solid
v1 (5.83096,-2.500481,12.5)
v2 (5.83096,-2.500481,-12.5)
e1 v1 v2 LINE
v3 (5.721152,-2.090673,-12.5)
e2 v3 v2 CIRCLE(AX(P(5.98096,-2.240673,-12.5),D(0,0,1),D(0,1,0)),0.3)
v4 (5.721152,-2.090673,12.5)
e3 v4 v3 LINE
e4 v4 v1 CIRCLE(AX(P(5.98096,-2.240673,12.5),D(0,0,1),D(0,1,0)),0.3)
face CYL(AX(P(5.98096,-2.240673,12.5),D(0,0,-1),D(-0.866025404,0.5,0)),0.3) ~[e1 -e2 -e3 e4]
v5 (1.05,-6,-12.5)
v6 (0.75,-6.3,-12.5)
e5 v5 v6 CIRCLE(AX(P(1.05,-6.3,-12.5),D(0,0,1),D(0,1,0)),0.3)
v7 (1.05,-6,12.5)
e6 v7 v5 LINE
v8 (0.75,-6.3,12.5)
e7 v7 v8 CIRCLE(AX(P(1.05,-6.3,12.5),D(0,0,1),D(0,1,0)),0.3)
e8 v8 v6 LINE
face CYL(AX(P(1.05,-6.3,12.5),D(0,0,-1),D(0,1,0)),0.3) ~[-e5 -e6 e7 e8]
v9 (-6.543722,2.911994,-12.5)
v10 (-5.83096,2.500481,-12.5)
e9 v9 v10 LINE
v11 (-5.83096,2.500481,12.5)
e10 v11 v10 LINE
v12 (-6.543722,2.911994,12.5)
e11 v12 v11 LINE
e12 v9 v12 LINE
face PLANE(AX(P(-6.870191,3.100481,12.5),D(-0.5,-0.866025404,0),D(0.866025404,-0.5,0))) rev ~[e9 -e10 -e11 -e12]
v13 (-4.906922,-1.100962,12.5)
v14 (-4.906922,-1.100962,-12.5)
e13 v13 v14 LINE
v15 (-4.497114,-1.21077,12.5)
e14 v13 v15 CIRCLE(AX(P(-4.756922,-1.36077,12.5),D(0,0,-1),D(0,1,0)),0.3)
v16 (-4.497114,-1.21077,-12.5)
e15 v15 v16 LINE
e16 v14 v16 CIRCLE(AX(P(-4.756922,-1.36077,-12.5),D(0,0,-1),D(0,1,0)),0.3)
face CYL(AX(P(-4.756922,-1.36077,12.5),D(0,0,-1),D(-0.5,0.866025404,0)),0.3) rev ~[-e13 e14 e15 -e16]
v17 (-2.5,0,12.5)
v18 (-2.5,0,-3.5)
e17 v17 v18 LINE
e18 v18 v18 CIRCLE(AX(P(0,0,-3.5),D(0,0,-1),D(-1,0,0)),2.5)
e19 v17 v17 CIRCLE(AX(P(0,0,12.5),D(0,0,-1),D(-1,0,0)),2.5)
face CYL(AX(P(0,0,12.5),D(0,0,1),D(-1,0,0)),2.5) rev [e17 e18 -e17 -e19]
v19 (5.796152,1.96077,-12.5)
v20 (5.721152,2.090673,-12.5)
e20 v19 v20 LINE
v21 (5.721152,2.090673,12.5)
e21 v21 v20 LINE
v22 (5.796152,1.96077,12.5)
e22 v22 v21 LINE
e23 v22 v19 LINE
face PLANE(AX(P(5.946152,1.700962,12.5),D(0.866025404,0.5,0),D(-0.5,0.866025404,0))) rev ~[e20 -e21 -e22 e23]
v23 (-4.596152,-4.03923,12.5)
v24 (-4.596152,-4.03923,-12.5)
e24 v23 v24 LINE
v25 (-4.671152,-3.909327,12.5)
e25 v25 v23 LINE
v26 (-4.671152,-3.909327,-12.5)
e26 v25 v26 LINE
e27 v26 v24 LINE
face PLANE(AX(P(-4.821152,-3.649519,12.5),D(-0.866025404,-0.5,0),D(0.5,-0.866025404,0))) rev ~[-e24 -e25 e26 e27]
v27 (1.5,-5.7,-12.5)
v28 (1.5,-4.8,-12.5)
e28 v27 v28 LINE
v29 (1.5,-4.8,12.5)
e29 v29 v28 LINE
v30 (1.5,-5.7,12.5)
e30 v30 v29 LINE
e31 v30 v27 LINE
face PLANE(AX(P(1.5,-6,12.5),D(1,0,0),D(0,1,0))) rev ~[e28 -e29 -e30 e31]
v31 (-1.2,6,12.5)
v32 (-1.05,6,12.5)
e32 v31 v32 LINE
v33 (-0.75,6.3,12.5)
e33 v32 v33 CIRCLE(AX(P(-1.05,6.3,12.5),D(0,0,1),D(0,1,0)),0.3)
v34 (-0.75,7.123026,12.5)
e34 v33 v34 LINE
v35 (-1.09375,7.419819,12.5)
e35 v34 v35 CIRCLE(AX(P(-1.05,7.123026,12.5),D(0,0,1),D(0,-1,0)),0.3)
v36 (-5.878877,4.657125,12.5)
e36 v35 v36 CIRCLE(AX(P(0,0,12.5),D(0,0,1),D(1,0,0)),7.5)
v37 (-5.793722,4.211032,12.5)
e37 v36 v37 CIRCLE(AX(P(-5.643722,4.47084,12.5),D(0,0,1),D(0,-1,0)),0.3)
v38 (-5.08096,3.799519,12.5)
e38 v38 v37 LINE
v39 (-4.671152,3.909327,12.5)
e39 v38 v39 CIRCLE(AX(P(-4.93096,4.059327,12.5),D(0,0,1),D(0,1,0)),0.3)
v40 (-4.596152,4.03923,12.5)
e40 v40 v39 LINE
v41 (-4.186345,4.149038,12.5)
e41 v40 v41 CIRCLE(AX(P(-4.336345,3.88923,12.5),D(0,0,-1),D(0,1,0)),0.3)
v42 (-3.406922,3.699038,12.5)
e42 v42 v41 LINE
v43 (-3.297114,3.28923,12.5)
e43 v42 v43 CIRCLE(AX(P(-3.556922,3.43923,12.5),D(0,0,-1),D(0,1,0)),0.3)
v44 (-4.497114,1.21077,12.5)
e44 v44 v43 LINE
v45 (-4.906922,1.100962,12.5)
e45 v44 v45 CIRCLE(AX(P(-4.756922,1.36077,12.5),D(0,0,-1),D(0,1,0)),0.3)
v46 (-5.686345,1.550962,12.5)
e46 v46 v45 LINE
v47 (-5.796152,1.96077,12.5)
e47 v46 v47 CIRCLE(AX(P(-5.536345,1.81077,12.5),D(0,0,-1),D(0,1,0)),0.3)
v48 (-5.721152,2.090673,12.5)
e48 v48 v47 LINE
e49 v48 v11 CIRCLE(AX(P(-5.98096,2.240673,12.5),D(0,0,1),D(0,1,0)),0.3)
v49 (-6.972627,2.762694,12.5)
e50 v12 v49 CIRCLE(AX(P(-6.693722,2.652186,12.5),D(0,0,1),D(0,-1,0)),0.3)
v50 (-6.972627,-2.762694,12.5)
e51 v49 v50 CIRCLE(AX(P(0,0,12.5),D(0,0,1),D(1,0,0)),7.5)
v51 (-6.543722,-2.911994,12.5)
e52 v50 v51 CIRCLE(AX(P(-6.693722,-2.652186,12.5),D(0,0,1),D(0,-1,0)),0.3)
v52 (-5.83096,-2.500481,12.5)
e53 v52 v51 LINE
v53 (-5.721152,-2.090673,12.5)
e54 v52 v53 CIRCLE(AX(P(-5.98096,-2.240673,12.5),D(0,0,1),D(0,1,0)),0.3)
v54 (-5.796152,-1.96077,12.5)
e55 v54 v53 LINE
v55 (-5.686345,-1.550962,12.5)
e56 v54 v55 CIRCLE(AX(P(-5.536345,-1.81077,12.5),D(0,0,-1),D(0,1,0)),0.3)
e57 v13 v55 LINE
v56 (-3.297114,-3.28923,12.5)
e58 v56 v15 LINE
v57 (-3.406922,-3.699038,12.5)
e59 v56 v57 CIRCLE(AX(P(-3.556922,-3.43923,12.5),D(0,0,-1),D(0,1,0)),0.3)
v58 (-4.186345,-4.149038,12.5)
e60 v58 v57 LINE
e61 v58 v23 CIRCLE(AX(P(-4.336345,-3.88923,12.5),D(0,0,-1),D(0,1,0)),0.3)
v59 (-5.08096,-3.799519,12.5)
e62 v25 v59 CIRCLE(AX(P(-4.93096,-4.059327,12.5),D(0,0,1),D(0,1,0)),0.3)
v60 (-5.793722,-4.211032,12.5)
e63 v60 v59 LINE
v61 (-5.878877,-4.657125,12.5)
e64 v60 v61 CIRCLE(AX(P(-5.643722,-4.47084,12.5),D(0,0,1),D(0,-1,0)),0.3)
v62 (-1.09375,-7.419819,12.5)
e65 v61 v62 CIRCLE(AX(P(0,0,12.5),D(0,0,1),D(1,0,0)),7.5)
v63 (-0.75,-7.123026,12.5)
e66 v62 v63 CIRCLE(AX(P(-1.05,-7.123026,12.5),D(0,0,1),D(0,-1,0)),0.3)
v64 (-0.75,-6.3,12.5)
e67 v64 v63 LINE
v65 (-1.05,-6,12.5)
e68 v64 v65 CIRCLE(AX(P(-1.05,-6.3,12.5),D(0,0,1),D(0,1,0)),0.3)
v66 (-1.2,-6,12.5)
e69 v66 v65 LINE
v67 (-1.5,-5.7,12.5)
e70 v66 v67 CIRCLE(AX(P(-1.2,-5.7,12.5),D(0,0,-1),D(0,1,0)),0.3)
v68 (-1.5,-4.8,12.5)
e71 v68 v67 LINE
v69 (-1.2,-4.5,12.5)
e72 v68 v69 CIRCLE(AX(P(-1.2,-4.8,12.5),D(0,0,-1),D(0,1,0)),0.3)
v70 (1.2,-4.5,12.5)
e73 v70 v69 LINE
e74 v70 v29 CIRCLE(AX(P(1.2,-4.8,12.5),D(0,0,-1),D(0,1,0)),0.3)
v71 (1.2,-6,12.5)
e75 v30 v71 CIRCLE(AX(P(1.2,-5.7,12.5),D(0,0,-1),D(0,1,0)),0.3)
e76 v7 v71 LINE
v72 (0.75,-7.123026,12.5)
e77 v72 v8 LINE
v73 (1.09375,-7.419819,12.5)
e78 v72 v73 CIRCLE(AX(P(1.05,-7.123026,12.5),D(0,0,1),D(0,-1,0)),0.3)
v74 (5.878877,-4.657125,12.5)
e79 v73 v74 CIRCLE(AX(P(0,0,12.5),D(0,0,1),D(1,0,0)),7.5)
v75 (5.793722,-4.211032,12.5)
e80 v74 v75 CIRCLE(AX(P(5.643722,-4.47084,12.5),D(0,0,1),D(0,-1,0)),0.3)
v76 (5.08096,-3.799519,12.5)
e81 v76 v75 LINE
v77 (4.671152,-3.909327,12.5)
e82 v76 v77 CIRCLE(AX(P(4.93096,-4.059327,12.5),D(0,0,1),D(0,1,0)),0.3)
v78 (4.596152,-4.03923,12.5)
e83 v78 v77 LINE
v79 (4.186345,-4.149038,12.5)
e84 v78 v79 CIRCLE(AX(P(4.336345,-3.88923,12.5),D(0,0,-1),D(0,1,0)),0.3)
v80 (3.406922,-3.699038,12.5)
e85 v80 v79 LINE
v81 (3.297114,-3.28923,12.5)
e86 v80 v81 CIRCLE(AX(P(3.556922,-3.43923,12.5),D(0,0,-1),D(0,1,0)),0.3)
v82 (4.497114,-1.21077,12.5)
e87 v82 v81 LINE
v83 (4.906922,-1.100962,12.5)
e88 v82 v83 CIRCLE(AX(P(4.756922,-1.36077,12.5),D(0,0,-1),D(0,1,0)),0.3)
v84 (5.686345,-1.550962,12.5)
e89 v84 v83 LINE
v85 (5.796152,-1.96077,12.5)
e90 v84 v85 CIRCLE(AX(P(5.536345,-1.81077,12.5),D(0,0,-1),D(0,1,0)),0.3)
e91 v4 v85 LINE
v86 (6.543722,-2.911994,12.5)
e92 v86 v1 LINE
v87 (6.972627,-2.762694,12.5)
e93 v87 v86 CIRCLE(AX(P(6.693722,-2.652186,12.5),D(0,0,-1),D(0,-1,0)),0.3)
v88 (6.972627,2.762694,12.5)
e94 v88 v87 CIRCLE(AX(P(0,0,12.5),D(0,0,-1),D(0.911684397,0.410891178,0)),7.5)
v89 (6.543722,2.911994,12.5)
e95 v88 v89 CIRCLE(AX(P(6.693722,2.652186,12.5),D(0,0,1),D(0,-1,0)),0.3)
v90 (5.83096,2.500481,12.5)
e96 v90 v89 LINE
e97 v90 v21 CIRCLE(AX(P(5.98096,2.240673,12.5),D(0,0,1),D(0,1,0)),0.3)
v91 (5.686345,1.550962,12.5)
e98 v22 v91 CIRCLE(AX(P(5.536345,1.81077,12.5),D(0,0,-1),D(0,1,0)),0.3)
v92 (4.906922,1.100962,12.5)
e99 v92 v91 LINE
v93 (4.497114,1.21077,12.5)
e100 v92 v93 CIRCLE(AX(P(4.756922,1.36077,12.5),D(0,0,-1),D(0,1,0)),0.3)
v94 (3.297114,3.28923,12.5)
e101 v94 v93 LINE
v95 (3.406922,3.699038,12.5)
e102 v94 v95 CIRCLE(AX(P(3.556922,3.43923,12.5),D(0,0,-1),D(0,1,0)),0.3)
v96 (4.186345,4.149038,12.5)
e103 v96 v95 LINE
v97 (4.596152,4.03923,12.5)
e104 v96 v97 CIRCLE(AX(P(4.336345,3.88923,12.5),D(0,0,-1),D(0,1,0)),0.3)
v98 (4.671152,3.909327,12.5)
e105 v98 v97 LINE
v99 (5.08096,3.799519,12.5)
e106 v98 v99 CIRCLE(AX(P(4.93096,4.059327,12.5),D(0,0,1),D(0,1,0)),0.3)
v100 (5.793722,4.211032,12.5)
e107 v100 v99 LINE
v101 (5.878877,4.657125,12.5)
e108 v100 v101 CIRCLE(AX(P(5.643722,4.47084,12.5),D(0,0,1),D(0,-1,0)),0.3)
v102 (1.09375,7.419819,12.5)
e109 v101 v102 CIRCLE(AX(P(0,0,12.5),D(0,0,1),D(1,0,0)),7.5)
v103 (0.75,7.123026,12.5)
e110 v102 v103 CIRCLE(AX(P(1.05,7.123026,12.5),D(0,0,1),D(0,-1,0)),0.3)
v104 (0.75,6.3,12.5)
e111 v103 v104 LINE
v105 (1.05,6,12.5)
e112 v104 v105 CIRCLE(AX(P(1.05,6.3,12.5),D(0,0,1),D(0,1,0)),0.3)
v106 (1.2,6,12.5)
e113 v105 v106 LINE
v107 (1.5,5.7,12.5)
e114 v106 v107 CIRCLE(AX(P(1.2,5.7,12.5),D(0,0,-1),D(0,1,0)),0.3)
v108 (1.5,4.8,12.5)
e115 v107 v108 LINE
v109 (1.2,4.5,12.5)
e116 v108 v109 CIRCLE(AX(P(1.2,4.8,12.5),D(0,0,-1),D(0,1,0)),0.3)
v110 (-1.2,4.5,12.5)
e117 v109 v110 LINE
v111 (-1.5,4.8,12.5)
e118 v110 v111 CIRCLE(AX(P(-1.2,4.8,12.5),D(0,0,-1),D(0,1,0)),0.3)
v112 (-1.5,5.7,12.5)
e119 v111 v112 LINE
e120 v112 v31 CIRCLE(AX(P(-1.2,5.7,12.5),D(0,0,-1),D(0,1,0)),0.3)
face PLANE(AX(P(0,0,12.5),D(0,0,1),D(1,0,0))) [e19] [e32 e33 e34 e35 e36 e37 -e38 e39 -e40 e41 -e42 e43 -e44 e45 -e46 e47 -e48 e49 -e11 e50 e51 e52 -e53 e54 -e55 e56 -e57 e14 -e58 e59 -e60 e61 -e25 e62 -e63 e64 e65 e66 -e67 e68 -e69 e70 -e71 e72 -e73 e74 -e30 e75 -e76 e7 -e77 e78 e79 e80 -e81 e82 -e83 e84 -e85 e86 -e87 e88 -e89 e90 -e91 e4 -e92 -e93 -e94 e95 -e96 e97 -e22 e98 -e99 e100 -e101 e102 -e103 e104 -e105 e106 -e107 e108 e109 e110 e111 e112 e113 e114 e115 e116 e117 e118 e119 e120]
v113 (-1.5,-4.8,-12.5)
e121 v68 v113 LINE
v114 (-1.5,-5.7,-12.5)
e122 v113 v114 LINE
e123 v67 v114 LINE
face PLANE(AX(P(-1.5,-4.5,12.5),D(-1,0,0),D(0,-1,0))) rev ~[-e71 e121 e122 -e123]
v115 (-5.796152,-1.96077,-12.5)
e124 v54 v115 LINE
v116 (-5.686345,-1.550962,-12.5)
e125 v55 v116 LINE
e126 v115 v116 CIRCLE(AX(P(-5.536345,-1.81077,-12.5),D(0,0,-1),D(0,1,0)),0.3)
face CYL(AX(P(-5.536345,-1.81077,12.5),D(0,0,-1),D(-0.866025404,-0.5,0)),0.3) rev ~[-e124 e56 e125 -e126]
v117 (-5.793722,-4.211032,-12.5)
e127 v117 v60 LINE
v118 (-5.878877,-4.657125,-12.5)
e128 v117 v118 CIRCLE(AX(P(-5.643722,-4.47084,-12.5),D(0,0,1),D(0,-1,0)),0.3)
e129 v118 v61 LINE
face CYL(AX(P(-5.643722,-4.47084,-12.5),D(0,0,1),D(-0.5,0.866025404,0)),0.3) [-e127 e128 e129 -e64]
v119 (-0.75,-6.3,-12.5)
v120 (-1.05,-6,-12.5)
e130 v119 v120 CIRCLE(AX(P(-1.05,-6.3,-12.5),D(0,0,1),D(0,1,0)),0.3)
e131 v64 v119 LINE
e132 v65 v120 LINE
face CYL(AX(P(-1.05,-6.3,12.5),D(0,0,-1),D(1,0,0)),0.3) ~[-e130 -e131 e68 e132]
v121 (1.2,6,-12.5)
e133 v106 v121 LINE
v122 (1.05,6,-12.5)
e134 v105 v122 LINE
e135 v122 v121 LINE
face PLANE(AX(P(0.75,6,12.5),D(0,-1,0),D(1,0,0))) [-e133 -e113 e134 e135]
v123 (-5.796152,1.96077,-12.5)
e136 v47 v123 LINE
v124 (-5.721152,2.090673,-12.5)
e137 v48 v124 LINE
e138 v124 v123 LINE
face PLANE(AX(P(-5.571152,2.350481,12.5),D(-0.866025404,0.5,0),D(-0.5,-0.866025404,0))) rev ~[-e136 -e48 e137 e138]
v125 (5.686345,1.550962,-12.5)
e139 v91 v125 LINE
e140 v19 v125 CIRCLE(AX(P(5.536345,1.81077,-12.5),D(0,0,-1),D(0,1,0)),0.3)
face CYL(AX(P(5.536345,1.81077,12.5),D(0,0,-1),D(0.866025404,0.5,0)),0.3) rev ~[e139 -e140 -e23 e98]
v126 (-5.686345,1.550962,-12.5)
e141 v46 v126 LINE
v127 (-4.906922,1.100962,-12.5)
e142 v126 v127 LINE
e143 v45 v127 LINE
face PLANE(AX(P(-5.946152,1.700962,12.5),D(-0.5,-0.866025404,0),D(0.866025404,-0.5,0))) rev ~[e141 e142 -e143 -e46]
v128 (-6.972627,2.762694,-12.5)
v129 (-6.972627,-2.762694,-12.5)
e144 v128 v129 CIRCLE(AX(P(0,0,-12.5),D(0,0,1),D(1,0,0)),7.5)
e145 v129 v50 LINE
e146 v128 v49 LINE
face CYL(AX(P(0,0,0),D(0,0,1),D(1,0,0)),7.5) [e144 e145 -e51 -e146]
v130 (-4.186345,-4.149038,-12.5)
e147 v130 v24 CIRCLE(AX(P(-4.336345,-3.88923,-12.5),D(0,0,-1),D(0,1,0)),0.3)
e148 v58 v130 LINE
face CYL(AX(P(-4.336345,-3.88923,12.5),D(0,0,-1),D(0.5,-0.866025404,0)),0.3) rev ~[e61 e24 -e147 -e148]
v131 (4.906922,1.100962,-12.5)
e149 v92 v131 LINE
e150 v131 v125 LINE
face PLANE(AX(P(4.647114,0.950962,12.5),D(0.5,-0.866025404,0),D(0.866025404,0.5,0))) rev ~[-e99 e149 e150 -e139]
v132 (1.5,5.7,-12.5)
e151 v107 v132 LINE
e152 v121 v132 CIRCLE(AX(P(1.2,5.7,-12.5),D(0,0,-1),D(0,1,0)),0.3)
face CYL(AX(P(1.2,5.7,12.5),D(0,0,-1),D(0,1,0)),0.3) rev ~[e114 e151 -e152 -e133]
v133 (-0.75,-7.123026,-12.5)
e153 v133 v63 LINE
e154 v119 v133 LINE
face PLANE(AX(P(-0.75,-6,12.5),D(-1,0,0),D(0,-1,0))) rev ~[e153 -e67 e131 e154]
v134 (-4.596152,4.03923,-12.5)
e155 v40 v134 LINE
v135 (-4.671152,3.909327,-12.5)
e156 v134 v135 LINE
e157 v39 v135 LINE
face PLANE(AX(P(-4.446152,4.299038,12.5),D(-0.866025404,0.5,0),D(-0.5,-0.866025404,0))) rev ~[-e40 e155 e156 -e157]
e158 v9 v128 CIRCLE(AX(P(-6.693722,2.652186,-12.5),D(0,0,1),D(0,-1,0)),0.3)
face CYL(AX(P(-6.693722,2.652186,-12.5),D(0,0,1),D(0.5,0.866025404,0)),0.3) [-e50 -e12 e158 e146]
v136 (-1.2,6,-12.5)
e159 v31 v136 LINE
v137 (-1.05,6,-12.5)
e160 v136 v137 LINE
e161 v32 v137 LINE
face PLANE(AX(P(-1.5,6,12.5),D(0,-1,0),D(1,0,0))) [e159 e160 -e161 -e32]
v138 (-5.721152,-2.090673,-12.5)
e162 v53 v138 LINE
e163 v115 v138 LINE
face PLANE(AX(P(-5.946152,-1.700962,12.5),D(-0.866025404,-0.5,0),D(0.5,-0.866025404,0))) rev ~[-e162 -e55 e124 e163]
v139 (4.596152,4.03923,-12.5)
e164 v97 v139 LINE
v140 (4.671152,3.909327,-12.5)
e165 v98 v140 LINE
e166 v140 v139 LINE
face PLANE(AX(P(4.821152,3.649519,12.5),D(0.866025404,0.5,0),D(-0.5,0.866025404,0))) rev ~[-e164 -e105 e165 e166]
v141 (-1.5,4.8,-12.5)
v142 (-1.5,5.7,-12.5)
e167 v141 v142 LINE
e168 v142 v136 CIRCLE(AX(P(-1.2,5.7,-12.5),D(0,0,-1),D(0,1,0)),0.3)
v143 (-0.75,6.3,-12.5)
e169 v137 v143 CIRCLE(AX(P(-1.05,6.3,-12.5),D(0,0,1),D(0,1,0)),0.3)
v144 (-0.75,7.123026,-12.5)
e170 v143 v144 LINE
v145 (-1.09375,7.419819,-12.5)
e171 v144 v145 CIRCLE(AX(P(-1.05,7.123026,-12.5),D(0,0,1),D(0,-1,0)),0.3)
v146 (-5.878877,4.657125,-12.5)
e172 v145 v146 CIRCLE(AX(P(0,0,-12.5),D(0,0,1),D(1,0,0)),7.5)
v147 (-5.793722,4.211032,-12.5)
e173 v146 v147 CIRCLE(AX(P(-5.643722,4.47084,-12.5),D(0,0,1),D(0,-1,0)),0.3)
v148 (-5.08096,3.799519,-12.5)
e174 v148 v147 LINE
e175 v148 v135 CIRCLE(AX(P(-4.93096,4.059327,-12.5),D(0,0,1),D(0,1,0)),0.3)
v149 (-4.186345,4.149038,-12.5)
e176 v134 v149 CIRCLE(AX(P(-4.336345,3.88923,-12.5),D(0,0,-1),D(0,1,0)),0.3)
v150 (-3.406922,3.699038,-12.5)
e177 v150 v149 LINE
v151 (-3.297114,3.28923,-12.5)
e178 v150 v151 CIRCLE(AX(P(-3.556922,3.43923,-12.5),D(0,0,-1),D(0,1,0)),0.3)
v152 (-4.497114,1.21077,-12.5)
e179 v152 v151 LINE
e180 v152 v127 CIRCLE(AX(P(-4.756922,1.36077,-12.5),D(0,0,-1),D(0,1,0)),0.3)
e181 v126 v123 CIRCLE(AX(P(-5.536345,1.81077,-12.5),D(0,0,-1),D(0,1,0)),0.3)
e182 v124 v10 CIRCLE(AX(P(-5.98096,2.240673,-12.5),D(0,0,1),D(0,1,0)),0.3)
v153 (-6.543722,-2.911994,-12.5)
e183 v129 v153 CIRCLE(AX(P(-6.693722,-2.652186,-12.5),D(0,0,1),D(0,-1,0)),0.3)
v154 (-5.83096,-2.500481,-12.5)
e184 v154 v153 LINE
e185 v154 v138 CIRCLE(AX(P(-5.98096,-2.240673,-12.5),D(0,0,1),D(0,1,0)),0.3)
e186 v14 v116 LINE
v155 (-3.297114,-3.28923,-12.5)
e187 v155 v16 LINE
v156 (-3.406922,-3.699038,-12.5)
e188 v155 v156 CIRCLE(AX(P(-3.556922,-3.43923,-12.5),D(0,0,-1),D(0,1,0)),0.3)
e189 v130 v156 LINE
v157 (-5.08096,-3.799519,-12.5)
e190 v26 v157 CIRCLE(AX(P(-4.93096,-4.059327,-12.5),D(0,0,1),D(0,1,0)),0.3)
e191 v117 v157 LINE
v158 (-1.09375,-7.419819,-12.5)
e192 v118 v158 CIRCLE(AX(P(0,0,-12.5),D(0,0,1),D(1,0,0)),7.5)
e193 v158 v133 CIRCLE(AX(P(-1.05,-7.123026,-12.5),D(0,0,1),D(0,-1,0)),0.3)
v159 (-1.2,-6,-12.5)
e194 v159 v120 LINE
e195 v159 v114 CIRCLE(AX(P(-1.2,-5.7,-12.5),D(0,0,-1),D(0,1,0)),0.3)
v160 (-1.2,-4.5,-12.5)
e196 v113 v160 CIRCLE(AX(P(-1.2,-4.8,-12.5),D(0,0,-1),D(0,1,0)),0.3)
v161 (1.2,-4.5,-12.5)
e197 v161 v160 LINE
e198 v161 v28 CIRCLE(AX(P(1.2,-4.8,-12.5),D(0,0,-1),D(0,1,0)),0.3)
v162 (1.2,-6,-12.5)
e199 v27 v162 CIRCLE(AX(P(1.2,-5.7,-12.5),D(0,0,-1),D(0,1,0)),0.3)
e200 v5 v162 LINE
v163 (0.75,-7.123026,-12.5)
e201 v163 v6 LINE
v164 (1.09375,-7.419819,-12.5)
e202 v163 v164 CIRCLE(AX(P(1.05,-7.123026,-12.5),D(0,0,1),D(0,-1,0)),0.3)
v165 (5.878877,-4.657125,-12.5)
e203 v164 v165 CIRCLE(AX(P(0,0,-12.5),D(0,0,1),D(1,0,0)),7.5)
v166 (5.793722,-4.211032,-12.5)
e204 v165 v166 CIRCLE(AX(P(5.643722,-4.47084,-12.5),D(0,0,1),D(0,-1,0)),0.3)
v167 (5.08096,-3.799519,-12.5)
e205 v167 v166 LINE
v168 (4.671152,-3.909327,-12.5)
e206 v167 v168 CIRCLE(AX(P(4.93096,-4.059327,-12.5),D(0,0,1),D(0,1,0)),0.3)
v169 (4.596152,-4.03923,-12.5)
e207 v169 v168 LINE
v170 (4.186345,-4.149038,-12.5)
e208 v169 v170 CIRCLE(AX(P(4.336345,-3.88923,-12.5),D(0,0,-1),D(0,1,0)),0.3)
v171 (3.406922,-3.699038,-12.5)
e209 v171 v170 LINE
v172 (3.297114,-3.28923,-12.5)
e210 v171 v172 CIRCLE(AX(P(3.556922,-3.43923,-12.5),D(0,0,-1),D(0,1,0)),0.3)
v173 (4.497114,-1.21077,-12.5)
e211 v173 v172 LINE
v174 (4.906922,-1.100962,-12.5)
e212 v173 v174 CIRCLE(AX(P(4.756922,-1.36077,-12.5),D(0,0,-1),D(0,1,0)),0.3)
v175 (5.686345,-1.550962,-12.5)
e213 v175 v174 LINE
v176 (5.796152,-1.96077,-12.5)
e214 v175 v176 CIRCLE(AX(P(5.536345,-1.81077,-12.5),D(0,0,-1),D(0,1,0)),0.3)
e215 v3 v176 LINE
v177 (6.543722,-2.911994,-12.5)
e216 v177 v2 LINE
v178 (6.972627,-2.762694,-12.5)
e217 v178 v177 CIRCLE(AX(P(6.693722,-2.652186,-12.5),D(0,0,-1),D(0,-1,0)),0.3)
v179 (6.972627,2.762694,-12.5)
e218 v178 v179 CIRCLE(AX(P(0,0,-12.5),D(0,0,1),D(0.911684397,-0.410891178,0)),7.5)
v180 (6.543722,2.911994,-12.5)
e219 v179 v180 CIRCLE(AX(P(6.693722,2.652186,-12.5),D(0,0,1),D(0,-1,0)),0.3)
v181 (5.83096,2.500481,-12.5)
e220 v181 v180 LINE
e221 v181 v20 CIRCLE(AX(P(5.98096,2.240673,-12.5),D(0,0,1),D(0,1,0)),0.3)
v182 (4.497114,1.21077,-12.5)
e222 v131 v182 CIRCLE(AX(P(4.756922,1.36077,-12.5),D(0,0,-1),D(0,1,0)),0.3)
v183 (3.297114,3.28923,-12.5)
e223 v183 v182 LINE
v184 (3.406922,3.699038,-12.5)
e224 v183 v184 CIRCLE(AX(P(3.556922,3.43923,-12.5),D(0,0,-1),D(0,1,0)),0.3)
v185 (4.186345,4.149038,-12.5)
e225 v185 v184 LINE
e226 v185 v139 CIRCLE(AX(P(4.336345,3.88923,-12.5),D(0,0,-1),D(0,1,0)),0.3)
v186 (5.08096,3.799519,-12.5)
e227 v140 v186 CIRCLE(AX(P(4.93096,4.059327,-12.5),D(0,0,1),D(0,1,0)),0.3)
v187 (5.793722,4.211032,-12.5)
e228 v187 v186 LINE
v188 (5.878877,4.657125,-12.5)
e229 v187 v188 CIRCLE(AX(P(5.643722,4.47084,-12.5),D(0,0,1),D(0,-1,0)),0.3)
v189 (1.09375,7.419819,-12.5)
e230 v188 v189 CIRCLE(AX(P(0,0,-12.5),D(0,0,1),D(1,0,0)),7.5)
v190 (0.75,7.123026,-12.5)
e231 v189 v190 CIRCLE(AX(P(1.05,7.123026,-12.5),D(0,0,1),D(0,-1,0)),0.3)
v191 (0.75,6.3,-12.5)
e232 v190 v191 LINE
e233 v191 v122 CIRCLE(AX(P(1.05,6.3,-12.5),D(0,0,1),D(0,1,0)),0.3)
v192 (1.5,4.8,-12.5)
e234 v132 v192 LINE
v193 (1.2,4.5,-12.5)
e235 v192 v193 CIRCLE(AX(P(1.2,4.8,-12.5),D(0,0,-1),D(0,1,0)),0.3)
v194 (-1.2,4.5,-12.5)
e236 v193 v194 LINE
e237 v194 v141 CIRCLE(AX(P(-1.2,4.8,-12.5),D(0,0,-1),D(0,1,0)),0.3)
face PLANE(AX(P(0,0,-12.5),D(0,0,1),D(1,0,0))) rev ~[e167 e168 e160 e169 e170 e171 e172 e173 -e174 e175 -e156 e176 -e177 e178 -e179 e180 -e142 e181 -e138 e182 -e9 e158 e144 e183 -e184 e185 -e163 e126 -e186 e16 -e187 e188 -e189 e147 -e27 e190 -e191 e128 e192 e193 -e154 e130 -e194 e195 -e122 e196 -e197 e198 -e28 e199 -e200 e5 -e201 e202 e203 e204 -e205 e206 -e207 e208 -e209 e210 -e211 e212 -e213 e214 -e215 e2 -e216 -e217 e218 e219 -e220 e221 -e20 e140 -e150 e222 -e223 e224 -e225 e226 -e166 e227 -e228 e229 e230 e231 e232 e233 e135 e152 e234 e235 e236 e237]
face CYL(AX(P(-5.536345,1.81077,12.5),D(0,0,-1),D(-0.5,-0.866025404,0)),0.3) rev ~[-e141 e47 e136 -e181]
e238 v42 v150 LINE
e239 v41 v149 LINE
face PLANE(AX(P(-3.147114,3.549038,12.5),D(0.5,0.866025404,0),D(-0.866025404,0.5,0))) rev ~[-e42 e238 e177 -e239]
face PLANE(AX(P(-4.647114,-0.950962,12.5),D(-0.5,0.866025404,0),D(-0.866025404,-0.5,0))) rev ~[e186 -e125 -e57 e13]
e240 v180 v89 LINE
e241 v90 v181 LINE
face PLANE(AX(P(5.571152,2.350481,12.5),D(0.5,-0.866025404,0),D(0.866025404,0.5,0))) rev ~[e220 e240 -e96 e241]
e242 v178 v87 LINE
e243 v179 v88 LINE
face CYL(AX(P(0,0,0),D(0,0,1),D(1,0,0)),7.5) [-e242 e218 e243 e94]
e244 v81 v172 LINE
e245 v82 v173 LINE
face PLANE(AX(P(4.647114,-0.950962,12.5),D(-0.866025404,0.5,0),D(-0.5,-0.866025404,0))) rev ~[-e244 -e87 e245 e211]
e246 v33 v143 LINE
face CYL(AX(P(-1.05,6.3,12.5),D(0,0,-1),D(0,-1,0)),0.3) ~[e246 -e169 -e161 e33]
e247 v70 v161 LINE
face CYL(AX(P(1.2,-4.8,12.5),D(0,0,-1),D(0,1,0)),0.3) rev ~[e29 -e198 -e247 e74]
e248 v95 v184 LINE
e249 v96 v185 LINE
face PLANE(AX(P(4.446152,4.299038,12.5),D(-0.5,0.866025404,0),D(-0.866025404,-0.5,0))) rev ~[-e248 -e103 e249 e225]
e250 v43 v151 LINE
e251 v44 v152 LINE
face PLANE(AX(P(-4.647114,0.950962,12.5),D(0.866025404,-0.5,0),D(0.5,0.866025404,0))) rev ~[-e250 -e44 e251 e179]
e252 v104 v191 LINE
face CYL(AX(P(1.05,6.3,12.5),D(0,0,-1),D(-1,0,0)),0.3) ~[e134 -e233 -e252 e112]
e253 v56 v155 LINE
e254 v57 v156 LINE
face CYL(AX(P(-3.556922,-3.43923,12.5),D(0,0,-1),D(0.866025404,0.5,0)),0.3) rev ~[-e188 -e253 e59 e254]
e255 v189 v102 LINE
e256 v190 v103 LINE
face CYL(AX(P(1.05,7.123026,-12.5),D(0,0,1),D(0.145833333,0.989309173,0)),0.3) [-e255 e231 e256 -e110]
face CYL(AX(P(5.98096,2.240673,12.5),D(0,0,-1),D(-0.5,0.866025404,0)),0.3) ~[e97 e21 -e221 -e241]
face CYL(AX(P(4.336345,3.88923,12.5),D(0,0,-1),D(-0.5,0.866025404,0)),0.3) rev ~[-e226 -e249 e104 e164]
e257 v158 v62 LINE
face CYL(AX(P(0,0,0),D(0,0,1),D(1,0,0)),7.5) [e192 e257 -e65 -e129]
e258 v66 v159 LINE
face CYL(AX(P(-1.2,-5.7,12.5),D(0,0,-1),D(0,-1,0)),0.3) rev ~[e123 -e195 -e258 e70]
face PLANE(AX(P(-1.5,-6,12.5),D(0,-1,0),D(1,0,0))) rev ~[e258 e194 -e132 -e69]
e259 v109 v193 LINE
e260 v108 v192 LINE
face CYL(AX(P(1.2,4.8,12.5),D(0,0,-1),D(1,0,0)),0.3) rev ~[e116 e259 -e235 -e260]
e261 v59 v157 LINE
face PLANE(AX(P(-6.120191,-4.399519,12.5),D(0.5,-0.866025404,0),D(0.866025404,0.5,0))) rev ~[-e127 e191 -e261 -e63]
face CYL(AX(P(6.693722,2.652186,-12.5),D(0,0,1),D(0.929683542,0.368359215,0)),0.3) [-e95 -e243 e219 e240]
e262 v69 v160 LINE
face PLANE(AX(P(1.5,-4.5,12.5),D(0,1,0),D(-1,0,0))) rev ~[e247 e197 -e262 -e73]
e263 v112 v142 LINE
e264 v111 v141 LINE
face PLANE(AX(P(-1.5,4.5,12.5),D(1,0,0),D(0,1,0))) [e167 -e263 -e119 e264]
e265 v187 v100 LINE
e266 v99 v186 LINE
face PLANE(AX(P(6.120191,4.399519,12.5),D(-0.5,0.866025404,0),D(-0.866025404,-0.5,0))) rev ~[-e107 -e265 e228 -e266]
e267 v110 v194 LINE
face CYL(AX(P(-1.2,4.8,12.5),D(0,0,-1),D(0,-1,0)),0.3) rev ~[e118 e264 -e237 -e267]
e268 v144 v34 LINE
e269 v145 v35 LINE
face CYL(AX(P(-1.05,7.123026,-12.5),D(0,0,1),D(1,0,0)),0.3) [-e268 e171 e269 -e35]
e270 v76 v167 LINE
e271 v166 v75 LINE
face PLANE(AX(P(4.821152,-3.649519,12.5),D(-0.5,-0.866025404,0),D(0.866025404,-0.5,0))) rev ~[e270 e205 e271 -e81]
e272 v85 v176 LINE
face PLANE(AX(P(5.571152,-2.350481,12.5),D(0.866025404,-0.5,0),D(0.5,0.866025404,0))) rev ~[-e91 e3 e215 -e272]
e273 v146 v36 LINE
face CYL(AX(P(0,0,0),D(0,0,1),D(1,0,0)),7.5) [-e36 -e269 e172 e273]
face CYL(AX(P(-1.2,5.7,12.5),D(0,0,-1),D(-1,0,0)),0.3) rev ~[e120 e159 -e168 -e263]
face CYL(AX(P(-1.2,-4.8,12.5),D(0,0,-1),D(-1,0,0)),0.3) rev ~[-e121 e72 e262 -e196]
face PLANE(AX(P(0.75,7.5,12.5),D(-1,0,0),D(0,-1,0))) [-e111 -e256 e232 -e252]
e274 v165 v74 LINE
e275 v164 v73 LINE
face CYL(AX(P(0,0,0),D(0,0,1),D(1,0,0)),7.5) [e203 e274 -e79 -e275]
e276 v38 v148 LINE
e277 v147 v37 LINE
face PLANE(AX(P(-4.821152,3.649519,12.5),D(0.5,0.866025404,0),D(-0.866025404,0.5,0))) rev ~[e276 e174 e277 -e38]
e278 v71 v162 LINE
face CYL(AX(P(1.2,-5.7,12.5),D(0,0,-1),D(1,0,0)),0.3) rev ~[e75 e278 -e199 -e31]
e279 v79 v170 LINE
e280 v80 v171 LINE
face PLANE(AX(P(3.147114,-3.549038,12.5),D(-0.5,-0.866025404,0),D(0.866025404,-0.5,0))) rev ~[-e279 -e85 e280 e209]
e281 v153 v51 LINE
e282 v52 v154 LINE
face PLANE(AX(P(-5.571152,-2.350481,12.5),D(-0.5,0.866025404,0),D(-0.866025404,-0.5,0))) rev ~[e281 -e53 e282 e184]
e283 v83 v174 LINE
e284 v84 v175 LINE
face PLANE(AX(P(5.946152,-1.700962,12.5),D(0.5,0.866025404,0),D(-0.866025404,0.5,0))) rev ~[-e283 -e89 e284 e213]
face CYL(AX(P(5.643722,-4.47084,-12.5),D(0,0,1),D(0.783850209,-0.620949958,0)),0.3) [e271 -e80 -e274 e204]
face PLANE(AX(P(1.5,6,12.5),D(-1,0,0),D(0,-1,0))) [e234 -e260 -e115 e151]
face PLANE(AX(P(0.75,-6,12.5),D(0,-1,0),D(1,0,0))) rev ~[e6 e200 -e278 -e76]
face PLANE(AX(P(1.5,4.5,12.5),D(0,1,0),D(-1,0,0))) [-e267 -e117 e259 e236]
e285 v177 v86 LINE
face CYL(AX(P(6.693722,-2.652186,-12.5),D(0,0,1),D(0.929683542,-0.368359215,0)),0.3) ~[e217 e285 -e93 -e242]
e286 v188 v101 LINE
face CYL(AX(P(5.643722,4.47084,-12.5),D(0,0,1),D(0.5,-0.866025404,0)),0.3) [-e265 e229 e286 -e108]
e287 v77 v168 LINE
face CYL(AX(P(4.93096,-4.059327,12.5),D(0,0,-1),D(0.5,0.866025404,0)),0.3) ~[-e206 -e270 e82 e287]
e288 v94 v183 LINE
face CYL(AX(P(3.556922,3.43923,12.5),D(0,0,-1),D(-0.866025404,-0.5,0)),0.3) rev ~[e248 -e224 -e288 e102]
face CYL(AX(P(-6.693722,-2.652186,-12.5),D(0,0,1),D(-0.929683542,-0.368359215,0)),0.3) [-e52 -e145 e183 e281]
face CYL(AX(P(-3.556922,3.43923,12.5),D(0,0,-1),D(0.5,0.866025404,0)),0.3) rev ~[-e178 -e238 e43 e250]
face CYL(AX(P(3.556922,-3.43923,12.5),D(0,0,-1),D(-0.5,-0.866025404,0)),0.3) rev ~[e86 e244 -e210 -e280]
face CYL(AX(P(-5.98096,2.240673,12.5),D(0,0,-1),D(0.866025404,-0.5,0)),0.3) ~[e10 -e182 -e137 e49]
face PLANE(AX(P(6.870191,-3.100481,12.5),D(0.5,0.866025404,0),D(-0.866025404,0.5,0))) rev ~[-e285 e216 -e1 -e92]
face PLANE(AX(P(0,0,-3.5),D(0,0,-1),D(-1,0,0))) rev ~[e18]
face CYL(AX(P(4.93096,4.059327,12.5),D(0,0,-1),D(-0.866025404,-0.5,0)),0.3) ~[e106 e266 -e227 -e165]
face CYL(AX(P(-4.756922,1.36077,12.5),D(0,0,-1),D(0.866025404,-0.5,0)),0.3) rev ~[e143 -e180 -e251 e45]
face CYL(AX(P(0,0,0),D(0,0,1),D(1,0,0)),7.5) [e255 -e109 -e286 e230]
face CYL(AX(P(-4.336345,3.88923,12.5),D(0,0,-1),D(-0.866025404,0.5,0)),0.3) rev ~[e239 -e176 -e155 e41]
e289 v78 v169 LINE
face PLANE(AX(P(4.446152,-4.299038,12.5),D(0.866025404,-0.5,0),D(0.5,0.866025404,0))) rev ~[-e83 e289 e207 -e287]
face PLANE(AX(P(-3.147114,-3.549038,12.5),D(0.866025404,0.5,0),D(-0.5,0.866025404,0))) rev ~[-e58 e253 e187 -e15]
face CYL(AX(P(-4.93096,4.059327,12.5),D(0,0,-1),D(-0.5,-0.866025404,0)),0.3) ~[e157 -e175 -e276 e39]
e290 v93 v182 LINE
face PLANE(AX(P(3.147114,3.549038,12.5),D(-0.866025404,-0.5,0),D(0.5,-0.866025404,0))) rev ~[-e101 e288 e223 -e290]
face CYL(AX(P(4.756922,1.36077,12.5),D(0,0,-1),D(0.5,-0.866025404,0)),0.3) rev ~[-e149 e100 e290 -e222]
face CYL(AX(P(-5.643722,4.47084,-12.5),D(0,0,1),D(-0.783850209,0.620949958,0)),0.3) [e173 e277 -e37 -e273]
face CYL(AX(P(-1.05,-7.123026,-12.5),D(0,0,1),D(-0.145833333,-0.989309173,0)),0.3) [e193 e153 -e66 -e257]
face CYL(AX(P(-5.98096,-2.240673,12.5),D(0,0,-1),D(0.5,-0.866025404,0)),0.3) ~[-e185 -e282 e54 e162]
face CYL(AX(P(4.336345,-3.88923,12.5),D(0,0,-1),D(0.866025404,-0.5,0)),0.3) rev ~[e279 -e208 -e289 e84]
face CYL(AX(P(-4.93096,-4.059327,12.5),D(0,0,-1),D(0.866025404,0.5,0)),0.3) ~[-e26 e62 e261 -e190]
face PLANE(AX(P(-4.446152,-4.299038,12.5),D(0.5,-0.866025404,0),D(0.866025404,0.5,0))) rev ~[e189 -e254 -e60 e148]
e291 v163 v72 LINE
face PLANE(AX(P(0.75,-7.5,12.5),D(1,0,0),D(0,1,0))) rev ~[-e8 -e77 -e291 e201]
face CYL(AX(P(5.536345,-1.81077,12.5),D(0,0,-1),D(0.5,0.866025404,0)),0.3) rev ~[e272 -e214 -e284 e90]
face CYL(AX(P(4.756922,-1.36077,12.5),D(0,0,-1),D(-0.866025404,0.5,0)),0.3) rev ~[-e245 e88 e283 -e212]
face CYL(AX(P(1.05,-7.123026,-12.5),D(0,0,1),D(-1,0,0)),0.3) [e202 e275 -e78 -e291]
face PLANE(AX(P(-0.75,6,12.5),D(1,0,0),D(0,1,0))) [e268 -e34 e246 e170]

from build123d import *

# Parameters (mm, degrees)
ESBO_O1_R                = 7.5
RESSALTO_EXTRUS_O1_DEPTH = 12.5
ESBO_O7_R                = 2.5
CORTE_EXTRUS_O1_DEPTH    = 16
CORTE_EXTRUS_O2_DEPTH    = 28.156951228
FILETE2_R                = 0.3


with BuildPart() as part:
    # Esboço1 → Ressalto-extrusão1 (new, symmetric)
    with BuildSketch(Plane.XY):
        Circle(ESBO_O1_R)
    extrude(amount=RESSALTO_EXTRUS_O1_DEPTH, both=True)

    # Esboço7 → Corte-extrusão1 (cut)
    with BuildSketch(Plane(origin=(0, 0, 12.5), x_dir=(-1, 0, 0), z_dir=(0, 0, -1))):
        Circle(ESBO_O7_R)
    extrude(amount=CORTE_EXTRUS_O1_DEPTH, mode=Mode.SUBTRACT)

    # Esboço9 → Corte-extrusão2 (cut, through all)
    with BuildSketch(Plane.XY.offset(12.5)):
        Polygon((-0.75, 6), (-0.75, 7.5), (0.75, 7.5), (0.75, 6), (1.5, 6), (1.5, 4.5), (-1.5, 4.5), (-1.5, 6), align=None)
        Polygon((4.446152423, 4.299038106), (3.147114317, 3.549038106), (4.647114317, 0.950961894), (5.946152423, 1.700961894), (5.571152423, 2.350480947), (6.870190528, 3.100480947), (6.120190528, 4.399519053), (4.821152423, 3.649519053), align=None)
        Polygon((5.946152423, -1.700961894), (4.647114317, -0.950961894), (3.147114317, -3.549038106), (4.446152423, -4.299038106), (4.821152423, -3.649519053), (6.120190528, -4.399519053), (6.870190528, -3.100480947), (5.571152423, -2.350480947), align=None)
        Polygon((1.5, -6), (1.5, -4.5), (-1.5, -4.5), (-1.5, -6), (-0.75, -6), (-0.75, -7.5), (0.75, -7.5), (0.75, -6), align=None)
        Polygon((-4.446152423, -4.299038106), (-3.147114317, -3.549038106), (-4.647114317, -0.950961894), (-5.946152423, -1.700961894), (-5.571152423, -2.350480947), (-6.870190528, -3.100480947), (-6.120190528, -4.399519053), (-4.821152423, -3.649519053), align=None)
        Polygon((-5.946152423, 1.700961894), (-4.647114317, 0.950961894), (-3.147114317, 3.549038106), (-4.446152423, 4.299038106), (-4.821152423, 3.649519053), (-6.120190528, 4.399519053), (-6.870190528, 3.100480947), (-5.571152423, 2.350480947), align=None)
    extrude(amount=-CORTE_EXTRUS_O2_DEPTH, mode=Mode.SUBTRACT)

    # Filete2
    filete2_edges = [part.edges().sort_by_distance(p)[0] for p in [
        (-6.837632977, -3.081683836, 0),
        (-6.087632977, -4.380721942, 0),
        (-4.821152423, -3.649519053, 0),
        (-5.571152423, -2.350480947, 0),
        (-5.946152423, -1.700961894, 0),
        (-4.647114317, -0.950961894, 0),
        (-3.147114317, -3.549038106, 0),
        (-4.446152423, -4.299038106, 0),
        (-0.75, -7.462405778, 0),
        (0.75, -7.462405778, 0),
        (0.75, -6, 0),
        (-0.75, -6, 0),
        (-1.5, -6, 0),
        (-1.5, -4.5, 0),
        (1.5, -4.5, 0),
        (1.5, -6, 0),
        (6.087632977, -4.380721942, 0),
        (6.837632977, -3.081683836, 0),
        (5.571152423, -2.350480947, 0),
        (4.821152423, -3.649519053, 0),
        (4.446152423, -4.299038106, 0),
        (3.147114317, -3.549038106, 0),
        (4.647114317, -0.950961894, 0),
        (5.946152423, -1.700961894, 0),
        (6.837632977, 3.081683836, 0),
        (6.087632977, 4.380721942, 0),
        (4.821152423, 3.649519053, 0),
        (5.571152423, 2.350480947, 0),
        (5.946152423, 1.700961894, 0),
        (4.647114317, 0.950961894, 0),
        (3.147114317, 3.549038106, 0),
        (4.446152423, 4.299038106, 0),
        (0.75, 7.462405778, 0),
        (-0.75, 7.462405778, 0),
        (-0.75, 6, 0),
        (0.75, 6, 0),
        (1.5, 6, 0),
        (1.5, 4.5, 0),
        (-1.5, 4.5, 0),
        (-1.5, 6, 0),
        (-6.087632977, 4.380721942, 0),
        (-6.837632977, 3.081683836, 0),
        (-5.571152423, 2.350480947, 0),
        (-4.821152423, 3.649519053, 0),
        (-4.446152423, 4.299038106, 0),
        (-3.147114317, 3.549038106, 0),
        (-4.647114317, 0.950961894, 0),
        (-5.946152423, 1.700961894, 0),
    ]]
    fillet(filete2_edges, radius=FILETE2_R)


solid = part.part
